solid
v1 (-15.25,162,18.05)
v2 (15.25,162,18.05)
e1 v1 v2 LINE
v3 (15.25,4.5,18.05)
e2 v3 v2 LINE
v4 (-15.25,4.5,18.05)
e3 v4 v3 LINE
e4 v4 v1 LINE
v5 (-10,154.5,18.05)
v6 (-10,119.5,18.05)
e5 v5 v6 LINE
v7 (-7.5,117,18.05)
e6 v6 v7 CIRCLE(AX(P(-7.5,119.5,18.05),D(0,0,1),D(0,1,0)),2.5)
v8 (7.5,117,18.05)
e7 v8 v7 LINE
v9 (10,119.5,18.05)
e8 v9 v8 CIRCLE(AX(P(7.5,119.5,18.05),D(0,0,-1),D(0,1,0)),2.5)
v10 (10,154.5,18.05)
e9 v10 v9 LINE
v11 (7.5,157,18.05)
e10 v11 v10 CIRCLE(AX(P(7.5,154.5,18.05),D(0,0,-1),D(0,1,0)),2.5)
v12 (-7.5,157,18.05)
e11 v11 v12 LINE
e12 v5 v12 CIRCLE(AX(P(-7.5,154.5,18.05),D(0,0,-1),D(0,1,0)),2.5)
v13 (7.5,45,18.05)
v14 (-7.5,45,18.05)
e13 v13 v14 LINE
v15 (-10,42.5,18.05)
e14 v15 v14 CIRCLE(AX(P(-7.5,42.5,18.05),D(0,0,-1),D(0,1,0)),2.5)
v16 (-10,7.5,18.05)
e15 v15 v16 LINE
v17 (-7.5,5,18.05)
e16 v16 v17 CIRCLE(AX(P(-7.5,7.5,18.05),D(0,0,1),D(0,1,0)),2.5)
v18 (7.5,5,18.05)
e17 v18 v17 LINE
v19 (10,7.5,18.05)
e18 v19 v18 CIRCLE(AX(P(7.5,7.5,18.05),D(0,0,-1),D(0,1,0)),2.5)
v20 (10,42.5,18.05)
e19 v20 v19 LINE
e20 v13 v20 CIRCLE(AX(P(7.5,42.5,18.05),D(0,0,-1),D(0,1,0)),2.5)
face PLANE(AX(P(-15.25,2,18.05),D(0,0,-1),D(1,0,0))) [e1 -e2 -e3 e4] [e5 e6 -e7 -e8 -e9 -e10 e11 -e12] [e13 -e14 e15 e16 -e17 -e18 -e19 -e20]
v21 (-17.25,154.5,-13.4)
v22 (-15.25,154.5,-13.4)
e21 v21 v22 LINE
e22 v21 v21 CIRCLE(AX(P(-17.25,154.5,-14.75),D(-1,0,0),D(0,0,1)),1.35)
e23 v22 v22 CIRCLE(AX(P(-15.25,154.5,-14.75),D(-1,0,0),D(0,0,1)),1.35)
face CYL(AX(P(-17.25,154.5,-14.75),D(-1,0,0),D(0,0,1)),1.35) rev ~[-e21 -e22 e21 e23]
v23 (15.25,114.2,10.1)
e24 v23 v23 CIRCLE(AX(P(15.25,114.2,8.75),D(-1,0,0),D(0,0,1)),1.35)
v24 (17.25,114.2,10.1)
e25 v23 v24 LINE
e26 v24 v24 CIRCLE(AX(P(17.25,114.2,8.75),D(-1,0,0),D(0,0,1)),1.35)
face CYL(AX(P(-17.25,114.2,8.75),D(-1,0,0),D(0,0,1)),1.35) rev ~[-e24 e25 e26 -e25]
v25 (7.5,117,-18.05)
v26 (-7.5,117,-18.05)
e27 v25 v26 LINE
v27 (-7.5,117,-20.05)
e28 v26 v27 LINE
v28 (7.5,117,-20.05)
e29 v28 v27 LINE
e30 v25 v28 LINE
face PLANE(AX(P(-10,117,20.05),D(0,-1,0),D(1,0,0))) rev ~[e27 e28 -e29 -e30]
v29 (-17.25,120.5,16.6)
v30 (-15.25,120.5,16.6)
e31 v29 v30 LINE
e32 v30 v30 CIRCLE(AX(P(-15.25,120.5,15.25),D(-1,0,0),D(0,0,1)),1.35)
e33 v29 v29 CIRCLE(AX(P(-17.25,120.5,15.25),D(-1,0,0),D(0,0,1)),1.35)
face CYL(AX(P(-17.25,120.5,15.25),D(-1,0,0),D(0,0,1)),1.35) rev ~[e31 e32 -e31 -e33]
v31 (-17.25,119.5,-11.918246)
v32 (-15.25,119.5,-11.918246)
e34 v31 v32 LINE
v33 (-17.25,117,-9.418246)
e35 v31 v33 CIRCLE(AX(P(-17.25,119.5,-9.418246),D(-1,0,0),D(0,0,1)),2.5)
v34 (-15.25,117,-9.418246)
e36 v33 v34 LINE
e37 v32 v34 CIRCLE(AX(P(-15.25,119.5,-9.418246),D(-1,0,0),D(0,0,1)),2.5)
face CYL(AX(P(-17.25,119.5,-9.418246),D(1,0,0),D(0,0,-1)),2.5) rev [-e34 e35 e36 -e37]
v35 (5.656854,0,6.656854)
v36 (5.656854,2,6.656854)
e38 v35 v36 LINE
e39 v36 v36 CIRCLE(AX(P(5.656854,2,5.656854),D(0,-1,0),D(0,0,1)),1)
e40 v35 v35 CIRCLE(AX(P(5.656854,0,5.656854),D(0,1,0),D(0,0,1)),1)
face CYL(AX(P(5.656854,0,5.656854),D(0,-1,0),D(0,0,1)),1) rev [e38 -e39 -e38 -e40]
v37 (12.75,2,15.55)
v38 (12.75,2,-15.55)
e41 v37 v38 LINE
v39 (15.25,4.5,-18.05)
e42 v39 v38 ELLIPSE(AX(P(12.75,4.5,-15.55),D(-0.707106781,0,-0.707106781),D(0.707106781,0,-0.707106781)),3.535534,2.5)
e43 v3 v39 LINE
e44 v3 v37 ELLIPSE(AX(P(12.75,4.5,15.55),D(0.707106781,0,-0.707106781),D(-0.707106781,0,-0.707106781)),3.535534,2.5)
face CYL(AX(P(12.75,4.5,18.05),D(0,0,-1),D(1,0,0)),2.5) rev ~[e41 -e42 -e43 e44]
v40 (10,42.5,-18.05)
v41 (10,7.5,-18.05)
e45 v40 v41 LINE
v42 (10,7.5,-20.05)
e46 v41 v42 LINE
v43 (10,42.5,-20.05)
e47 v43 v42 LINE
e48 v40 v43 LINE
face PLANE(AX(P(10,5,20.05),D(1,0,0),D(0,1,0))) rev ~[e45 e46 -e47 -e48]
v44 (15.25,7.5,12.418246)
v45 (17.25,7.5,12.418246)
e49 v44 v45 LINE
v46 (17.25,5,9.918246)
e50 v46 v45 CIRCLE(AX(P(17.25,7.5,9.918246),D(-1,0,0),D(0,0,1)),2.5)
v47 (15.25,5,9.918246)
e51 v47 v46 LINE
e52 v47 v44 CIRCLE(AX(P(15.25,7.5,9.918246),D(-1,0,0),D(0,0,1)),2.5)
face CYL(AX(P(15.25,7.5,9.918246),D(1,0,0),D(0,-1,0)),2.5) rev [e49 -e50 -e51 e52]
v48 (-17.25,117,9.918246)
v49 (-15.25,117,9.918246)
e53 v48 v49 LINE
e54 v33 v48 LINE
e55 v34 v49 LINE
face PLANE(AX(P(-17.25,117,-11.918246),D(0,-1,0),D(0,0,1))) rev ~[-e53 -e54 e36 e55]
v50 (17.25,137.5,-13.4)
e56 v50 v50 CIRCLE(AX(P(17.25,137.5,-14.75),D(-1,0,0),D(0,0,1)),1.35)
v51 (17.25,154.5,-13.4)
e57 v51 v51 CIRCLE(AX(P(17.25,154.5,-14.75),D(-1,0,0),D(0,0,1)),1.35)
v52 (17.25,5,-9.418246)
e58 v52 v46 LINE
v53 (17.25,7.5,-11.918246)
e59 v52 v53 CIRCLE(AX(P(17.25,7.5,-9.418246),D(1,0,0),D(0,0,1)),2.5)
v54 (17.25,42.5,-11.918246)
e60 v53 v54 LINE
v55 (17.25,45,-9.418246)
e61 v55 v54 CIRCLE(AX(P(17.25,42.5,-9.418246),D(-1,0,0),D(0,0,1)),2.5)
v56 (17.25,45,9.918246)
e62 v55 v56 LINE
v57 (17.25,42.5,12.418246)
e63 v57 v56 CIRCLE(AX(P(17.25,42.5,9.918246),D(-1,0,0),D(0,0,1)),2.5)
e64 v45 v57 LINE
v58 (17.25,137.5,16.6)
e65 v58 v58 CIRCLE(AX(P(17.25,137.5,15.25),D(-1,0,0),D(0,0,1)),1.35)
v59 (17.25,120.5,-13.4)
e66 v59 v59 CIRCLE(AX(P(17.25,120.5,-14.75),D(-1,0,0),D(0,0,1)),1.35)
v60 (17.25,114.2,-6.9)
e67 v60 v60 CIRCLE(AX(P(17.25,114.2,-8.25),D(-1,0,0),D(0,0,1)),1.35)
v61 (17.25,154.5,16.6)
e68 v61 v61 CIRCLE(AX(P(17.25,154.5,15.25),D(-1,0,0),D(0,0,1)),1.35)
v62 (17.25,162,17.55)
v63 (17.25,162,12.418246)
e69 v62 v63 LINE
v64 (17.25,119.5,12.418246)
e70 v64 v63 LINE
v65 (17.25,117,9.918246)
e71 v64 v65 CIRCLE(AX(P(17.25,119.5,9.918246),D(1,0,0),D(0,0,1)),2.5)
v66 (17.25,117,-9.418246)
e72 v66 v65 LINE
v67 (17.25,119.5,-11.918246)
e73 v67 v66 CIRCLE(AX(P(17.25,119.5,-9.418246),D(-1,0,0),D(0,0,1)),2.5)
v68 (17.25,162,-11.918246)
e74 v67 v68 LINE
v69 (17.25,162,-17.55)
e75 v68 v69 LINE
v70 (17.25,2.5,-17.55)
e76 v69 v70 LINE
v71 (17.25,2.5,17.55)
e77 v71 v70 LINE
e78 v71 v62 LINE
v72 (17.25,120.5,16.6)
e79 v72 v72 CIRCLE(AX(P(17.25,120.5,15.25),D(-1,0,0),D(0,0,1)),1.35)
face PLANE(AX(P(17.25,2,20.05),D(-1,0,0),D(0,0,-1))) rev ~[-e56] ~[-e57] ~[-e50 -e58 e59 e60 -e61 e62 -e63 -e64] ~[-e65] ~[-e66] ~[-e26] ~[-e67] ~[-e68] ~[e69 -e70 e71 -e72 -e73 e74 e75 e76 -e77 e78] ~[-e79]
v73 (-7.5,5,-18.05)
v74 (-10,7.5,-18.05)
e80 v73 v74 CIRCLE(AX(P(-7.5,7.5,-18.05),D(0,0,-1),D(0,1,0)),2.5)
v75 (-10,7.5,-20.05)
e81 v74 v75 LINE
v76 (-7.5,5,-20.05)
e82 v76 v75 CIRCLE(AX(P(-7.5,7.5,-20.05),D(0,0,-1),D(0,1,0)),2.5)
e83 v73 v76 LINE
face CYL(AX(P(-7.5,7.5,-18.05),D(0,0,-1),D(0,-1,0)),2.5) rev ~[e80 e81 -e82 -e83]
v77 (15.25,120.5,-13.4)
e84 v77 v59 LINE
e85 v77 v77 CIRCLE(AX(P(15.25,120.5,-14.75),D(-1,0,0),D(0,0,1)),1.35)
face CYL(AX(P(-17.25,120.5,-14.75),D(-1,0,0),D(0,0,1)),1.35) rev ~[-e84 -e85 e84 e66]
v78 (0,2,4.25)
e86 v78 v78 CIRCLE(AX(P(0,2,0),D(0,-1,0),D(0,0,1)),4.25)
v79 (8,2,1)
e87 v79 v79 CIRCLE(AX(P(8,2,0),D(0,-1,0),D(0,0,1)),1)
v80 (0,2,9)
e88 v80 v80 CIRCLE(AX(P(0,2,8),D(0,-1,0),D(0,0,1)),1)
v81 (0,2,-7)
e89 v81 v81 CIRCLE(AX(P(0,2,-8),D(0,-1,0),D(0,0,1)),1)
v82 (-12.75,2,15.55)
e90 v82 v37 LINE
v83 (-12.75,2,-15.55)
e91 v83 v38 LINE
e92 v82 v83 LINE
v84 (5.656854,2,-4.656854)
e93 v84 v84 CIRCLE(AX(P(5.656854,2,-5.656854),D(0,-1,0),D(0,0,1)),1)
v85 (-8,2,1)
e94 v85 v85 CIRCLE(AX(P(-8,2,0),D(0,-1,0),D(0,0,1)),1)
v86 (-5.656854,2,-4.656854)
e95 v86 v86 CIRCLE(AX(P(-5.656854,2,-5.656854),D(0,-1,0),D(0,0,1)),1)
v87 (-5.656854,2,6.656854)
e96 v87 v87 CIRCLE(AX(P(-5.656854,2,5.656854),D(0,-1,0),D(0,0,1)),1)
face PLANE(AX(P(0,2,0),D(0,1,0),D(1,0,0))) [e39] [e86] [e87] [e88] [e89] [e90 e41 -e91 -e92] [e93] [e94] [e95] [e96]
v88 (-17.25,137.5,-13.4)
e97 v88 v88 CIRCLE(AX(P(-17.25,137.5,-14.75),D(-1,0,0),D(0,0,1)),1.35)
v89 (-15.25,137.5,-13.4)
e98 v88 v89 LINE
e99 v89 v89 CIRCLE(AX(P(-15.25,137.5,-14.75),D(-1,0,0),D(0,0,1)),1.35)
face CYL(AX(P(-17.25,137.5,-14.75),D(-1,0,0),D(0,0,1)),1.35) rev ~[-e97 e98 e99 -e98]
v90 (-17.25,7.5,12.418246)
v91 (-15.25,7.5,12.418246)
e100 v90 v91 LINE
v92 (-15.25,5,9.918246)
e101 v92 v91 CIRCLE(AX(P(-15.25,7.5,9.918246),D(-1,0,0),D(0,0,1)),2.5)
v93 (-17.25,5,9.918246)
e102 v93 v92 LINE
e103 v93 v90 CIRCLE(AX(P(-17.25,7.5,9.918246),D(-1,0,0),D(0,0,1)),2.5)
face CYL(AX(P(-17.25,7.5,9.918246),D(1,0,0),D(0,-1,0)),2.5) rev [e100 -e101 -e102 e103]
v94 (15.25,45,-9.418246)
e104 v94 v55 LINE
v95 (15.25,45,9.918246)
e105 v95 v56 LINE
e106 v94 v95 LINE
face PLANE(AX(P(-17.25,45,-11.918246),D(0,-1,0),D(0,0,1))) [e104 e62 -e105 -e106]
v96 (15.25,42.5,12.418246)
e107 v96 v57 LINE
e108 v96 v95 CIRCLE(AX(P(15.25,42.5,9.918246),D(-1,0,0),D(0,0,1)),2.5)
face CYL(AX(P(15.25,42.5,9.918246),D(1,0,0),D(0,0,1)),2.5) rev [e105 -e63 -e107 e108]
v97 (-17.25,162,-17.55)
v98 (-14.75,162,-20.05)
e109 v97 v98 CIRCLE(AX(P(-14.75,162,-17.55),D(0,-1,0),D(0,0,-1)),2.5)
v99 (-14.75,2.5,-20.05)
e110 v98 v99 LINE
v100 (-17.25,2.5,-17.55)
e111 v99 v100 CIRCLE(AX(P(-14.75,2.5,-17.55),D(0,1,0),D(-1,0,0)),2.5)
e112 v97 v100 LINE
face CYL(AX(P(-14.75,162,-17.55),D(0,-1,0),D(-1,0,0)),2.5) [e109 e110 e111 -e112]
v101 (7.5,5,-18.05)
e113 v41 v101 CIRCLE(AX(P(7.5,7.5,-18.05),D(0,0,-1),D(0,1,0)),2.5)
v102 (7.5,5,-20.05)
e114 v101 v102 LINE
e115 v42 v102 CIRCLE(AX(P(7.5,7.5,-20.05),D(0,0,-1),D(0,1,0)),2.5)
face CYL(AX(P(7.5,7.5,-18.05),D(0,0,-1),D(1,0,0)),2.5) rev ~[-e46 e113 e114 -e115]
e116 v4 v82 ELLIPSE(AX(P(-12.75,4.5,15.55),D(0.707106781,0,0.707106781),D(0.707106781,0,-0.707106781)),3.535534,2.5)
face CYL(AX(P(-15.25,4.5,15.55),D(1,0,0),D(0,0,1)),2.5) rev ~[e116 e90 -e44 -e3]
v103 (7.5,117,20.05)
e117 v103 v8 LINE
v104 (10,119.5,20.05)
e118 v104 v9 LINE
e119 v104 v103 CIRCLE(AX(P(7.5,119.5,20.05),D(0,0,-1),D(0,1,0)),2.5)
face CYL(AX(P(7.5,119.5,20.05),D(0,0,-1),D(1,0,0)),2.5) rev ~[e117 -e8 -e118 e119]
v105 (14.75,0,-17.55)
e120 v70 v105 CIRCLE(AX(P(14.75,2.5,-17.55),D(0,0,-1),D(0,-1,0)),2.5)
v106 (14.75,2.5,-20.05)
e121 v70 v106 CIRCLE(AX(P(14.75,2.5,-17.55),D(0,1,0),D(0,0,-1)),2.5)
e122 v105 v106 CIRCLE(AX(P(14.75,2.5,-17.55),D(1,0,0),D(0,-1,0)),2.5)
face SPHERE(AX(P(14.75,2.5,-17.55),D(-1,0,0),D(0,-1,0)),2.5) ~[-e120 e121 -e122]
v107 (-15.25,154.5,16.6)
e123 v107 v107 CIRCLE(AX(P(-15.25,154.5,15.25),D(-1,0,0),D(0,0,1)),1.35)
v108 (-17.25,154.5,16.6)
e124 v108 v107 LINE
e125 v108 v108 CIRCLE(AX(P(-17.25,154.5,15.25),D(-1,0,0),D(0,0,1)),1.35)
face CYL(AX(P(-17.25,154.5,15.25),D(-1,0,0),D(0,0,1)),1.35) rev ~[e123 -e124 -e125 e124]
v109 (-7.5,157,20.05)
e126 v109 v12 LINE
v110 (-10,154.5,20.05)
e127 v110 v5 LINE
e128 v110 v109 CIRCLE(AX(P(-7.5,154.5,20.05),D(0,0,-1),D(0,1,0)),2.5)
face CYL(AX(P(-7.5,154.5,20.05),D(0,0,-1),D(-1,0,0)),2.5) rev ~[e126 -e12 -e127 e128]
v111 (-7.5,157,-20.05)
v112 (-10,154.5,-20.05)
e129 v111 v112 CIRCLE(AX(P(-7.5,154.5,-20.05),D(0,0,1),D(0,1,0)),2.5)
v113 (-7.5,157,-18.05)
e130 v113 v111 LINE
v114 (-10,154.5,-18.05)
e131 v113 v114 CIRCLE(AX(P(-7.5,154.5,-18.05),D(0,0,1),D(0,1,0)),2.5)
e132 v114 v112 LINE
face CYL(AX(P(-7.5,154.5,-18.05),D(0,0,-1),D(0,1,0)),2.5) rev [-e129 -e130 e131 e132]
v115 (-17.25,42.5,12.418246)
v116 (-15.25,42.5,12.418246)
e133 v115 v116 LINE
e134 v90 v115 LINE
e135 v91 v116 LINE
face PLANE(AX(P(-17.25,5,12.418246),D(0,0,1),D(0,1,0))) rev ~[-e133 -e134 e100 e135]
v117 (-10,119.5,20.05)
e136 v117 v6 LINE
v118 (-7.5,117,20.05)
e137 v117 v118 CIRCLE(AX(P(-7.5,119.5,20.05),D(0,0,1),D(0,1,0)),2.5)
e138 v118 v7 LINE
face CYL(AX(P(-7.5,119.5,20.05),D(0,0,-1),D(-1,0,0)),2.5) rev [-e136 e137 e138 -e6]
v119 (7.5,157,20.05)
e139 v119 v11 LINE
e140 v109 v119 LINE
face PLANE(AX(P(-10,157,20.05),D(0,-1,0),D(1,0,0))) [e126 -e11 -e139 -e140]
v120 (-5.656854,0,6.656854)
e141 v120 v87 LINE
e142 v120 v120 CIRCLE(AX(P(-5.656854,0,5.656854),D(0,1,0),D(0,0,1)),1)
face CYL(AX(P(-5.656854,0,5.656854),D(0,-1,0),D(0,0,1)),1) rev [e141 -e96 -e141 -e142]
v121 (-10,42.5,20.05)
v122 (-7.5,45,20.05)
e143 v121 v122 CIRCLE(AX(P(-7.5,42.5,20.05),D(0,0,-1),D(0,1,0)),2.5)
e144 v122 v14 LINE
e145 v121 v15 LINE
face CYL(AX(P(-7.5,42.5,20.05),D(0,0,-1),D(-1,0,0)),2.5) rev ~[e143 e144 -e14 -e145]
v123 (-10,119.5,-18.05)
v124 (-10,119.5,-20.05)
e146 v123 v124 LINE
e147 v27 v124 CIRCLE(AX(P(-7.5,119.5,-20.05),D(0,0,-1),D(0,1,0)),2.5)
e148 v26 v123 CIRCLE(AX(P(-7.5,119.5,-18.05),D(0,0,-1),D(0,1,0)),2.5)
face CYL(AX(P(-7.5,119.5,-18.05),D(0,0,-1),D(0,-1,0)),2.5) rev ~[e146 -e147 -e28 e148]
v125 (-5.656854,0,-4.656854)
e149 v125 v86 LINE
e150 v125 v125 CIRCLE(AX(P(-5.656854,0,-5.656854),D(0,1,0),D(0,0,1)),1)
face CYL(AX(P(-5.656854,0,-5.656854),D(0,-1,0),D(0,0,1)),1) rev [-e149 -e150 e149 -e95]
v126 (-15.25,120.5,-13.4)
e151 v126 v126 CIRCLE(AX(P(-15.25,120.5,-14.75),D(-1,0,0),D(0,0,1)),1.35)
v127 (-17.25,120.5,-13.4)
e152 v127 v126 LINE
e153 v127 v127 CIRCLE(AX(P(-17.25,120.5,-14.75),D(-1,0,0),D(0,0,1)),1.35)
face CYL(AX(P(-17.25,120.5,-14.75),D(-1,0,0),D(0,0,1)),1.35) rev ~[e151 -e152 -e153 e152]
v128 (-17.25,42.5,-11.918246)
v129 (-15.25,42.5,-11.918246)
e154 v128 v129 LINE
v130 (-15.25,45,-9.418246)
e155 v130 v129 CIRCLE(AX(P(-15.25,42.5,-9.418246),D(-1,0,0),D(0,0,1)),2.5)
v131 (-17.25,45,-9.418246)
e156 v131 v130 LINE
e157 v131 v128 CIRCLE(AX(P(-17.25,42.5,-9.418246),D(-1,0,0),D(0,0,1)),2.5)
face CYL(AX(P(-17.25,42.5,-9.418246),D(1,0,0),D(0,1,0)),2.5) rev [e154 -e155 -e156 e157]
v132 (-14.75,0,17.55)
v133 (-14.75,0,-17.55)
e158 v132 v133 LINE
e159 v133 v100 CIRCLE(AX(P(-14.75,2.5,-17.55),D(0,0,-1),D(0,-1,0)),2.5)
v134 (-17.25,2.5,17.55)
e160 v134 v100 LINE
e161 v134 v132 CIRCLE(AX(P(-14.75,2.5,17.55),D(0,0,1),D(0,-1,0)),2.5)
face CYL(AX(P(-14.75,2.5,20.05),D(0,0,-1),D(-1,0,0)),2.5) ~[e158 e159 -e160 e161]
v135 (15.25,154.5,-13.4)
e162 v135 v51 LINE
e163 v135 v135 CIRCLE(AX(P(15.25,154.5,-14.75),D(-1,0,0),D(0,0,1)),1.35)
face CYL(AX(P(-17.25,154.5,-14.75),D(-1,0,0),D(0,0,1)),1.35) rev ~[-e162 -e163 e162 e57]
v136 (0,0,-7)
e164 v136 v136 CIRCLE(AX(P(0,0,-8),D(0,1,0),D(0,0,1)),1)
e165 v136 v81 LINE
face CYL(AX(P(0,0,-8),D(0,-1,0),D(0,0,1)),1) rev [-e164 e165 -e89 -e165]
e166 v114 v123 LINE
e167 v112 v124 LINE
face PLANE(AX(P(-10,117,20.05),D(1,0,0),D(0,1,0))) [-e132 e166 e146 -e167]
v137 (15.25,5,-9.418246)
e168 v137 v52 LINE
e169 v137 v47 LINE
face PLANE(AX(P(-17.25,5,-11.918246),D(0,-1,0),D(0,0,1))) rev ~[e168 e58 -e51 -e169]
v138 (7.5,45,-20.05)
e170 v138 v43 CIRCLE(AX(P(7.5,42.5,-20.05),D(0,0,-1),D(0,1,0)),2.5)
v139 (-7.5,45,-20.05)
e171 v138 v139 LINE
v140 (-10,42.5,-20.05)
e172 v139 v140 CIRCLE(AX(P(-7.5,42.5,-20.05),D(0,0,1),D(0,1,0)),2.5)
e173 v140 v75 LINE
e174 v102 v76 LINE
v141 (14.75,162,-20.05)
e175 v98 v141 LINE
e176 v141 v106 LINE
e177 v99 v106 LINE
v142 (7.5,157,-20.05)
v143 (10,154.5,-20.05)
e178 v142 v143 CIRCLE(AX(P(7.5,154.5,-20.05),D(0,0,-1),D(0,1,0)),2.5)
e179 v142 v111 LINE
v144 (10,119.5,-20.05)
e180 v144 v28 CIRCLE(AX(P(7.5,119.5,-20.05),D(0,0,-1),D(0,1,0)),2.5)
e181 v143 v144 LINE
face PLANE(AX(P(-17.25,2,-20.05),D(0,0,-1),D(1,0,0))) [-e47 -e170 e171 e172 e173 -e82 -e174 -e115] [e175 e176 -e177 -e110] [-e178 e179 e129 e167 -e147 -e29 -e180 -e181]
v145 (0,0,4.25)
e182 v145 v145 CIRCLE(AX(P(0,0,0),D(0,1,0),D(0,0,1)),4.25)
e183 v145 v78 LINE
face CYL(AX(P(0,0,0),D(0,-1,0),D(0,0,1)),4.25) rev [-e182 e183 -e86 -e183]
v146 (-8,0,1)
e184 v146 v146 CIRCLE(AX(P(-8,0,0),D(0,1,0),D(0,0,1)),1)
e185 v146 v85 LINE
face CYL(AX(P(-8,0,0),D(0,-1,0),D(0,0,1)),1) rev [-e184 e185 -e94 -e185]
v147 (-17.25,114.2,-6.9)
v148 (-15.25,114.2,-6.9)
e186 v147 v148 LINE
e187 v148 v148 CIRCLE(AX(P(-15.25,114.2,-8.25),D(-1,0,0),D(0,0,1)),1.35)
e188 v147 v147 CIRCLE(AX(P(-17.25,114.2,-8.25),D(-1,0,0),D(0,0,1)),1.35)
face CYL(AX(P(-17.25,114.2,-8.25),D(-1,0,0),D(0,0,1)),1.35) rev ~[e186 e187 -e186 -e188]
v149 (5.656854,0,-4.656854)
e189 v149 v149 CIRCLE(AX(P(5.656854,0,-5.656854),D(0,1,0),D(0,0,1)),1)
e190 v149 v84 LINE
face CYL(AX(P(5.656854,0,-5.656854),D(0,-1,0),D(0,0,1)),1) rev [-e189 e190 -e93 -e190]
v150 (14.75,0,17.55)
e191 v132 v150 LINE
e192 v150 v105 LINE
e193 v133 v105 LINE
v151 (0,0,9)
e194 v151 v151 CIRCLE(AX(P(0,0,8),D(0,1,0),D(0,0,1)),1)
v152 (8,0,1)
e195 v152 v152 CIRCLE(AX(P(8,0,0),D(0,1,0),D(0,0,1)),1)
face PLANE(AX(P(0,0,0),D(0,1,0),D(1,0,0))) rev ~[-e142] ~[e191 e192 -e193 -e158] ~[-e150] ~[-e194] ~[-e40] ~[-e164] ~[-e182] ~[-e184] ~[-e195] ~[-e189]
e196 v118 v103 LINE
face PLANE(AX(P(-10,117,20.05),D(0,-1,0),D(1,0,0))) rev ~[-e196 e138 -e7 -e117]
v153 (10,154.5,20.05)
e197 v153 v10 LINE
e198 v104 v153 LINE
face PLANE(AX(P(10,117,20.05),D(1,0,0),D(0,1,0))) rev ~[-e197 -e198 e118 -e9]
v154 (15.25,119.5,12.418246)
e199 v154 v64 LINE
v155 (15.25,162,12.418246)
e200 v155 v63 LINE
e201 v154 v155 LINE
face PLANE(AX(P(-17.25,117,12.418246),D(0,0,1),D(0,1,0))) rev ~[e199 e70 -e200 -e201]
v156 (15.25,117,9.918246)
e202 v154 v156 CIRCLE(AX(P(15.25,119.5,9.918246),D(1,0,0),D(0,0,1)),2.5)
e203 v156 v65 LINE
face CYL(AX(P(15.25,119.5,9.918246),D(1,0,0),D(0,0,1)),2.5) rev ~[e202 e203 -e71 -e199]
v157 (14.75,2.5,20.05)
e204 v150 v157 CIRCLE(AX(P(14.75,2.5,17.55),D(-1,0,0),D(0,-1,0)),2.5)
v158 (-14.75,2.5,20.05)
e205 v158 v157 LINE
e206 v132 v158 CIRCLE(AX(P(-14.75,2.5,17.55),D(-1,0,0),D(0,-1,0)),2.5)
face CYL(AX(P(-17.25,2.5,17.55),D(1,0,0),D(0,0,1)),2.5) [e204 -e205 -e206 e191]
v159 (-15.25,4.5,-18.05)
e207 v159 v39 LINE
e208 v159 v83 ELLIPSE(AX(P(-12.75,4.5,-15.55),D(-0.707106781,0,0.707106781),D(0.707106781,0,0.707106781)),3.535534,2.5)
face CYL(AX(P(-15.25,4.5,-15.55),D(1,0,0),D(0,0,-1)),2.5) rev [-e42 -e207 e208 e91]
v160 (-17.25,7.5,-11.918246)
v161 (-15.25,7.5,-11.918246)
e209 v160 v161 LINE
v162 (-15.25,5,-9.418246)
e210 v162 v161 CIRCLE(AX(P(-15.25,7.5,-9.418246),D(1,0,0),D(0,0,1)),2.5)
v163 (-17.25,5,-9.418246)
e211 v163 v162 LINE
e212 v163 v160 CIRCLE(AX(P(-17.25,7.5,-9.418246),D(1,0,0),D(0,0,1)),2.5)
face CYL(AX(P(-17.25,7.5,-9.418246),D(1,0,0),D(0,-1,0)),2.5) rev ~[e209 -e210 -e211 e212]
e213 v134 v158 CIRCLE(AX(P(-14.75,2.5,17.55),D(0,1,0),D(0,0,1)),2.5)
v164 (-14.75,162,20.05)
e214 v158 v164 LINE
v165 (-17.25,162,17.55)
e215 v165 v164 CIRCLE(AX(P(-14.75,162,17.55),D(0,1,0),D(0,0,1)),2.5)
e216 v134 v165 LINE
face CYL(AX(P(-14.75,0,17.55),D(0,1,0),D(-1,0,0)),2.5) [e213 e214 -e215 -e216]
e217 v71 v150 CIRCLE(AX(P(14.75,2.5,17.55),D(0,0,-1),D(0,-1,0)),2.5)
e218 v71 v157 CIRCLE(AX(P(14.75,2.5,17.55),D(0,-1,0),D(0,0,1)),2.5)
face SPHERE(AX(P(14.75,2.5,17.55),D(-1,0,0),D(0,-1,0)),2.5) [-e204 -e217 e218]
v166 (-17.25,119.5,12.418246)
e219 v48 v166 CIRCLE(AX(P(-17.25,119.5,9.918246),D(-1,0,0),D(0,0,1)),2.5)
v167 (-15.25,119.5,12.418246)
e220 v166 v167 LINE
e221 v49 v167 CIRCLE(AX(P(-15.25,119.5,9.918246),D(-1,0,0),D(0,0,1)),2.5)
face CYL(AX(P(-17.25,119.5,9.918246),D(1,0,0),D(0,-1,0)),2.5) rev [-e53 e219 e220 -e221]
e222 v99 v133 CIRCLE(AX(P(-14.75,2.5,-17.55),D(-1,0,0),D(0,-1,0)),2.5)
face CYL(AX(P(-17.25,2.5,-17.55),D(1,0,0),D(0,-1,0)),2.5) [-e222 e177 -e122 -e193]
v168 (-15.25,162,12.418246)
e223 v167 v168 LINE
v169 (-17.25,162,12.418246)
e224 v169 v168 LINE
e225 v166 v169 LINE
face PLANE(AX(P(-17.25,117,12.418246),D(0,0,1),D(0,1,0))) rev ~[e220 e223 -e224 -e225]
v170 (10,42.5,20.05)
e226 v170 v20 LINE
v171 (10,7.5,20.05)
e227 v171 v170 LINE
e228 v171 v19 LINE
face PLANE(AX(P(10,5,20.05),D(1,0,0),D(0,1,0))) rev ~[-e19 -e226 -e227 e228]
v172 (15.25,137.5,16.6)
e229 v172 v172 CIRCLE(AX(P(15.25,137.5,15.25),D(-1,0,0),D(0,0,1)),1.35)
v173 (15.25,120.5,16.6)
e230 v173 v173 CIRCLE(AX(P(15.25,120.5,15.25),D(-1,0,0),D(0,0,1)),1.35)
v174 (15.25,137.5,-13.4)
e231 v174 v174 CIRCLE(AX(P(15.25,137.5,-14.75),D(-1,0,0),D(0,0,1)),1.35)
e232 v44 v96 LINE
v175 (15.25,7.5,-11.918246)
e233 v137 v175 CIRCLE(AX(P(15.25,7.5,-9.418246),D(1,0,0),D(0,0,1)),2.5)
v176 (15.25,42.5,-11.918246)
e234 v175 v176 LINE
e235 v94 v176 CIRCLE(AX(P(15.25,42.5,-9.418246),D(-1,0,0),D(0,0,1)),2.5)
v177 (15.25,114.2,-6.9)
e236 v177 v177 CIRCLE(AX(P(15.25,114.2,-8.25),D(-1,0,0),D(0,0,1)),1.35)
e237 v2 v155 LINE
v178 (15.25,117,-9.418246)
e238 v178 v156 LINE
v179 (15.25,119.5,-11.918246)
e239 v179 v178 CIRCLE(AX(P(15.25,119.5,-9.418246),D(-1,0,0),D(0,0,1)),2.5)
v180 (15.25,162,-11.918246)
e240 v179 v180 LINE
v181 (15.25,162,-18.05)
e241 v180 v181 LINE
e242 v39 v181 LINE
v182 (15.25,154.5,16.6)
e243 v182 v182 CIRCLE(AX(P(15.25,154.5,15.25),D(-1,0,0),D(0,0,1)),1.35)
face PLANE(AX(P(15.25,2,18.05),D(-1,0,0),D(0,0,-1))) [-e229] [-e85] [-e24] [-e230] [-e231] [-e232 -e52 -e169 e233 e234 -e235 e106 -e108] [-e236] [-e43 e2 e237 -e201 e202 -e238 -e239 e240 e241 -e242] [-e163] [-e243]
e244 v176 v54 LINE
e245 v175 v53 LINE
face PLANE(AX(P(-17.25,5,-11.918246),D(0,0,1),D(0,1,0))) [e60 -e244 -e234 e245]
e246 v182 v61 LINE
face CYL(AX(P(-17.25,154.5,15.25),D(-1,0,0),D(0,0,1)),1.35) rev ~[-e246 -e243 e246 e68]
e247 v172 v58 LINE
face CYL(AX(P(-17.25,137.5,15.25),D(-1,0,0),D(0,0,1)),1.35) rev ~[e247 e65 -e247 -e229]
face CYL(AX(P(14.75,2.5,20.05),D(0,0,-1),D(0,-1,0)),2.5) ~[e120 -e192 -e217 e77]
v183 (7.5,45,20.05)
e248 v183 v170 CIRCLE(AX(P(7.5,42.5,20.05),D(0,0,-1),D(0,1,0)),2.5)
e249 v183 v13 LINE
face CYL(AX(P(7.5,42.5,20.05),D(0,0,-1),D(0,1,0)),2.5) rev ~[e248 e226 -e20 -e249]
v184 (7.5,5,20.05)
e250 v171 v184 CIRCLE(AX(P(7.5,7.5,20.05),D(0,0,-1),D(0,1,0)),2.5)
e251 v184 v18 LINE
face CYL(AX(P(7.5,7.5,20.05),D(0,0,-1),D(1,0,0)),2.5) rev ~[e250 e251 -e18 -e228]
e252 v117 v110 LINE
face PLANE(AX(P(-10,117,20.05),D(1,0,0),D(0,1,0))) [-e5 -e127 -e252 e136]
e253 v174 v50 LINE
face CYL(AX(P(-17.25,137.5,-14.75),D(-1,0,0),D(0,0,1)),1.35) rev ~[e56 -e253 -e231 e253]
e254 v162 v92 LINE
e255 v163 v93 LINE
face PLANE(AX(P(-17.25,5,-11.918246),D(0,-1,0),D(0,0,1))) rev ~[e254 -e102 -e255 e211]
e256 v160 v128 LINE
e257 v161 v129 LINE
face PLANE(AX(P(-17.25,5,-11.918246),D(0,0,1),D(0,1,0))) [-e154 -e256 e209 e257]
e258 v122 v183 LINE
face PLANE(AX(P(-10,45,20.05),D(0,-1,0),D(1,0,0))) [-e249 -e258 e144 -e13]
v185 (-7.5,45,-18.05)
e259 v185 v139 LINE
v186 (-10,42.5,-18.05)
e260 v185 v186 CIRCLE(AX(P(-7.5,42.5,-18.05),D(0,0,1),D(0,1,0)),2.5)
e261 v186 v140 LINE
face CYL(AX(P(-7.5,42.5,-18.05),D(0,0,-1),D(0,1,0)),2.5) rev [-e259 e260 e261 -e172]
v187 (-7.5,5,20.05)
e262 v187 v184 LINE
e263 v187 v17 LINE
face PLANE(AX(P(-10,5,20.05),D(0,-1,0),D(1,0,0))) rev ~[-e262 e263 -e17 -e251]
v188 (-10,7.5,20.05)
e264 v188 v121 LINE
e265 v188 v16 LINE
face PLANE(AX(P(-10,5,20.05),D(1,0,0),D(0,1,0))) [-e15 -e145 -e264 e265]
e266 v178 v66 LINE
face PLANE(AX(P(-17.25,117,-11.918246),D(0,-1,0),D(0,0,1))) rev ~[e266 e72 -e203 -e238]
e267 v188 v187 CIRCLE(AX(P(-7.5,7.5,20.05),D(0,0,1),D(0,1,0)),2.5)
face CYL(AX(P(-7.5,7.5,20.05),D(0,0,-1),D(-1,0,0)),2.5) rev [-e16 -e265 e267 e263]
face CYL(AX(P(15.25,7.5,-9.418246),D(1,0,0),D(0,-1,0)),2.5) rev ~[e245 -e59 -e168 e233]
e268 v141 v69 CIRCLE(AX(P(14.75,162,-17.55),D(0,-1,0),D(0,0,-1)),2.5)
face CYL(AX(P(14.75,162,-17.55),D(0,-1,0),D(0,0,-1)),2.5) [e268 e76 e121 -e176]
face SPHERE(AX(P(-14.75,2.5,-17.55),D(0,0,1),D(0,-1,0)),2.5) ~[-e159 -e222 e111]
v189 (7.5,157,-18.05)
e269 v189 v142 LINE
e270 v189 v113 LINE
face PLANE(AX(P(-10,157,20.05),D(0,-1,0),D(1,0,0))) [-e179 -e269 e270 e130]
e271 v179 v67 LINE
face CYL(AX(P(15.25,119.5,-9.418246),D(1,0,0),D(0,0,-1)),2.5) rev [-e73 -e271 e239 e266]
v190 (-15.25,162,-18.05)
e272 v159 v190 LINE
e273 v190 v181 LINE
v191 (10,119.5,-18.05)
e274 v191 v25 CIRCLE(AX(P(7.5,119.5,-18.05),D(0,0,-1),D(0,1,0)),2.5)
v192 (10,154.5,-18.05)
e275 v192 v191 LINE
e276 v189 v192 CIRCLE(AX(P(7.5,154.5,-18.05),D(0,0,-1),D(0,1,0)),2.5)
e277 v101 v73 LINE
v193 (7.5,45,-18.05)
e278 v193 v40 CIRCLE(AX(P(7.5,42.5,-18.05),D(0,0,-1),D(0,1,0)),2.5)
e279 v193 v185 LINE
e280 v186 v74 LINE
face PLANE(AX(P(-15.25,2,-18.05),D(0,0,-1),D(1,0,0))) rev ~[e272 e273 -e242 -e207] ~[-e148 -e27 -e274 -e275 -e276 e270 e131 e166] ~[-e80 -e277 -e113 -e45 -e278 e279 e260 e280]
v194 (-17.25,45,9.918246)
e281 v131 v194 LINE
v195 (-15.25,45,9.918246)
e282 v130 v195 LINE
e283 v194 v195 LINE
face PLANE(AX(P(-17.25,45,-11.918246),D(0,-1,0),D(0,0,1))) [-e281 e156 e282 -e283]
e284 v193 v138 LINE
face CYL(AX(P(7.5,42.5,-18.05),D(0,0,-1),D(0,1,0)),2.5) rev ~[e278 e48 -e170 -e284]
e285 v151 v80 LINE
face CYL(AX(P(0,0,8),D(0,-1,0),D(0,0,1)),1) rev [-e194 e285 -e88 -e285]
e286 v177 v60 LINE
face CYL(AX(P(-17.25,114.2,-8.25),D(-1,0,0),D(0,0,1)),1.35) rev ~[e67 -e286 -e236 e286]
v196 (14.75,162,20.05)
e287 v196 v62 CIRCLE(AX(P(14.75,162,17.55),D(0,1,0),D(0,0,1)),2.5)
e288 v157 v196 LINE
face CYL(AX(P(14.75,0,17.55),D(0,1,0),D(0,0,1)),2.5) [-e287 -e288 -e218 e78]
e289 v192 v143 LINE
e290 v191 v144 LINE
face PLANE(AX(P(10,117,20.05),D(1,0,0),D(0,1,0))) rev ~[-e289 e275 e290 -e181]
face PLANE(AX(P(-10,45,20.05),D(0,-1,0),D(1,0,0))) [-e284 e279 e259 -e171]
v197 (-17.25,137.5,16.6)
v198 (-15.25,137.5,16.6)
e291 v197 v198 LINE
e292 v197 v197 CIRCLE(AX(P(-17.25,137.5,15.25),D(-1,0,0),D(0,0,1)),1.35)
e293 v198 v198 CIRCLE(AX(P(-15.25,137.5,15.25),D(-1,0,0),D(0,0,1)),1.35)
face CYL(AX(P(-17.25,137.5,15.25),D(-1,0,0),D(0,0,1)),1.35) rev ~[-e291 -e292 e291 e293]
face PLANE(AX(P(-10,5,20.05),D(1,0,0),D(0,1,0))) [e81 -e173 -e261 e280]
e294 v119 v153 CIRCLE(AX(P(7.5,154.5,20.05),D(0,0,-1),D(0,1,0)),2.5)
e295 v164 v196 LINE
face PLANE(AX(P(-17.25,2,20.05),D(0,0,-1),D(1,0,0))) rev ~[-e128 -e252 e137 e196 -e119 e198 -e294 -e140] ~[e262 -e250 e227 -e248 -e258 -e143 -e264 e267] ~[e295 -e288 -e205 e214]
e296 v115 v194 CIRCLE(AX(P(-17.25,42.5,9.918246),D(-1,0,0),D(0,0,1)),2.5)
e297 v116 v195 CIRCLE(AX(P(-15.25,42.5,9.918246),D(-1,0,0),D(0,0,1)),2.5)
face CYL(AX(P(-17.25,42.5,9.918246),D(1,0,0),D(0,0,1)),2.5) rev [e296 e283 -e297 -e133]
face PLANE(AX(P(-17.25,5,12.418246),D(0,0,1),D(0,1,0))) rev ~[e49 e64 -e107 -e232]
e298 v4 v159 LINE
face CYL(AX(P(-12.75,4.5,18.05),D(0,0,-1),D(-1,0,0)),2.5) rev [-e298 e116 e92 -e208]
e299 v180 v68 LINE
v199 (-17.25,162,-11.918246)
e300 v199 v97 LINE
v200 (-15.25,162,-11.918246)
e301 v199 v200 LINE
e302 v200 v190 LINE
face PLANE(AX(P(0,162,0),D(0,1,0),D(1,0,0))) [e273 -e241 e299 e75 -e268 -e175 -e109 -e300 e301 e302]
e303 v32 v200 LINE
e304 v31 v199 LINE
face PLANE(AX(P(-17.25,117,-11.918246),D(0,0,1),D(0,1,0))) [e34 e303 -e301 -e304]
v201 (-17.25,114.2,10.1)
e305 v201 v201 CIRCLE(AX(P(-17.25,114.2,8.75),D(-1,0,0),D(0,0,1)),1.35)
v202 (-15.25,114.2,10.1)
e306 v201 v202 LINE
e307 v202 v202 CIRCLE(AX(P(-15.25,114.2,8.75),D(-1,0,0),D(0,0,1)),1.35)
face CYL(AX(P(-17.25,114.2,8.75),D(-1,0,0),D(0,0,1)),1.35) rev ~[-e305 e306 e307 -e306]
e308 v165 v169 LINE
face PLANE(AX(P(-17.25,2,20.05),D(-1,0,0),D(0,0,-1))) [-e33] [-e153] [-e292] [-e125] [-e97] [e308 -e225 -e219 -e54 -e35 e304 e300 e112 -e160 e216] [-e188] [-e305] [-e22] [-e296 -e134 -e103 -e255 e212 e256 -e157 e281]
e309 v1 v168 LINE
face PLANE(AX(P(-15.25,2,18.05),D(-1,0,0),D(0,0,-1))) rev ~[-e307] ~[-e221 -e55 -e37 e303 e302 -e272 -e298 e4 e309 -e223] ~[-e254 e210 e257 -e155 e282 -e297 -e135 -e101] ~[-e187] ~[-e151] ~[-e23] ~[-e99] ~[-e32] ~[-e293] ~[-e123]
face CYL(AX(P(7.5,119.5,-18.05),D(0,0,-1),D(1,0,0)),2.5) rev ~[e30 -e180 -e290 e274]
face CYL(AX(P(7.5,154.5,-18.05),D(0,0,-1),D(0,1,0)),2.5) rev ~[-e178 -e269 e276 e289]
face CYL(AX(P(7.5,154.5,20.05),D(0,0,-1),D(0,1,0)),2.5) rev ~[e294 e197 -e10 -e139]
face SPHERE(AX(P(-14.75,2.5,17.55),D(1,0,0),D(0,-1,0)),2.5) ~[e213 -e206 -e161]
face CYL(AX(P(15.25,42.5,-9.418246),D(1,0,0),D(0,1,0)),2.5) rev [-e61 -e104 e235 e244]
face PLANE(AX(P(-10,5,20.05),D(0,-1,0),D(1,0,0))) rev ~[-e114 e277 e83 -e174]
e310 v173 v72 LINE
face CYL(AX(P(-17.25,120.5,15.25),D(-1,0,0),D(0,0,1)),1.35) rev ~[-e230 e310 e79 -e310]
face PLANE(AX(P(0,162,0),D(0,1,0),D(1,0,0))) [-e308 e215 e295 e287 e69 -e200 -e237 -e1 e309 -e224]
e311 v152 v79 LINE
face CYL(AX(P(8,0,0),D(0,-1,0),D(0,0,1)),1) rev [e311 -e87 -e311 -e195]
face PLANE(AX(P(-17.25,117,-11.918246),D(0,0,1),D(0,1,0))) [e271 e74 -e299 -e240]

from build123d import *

# Parameters (mm, degrees)
SKETCH2_W           = 34.5
SKETCH2_H           = 40.1
BOSS_EXTRUDE1_DEPTH = 2
SKETCH1_R           = 1
SKETCH1_R_2         = 4.25
CUT_EXTRUDE2_DEPTH  = 27.524799716
SKETCH3_W           = 34.5
SKETCH3_H           = 40.1
SKETCH3_W_2         = 30.5
SKETCH3_H_2         = 36.1
BOSS_EXTRUDE3_DEPTH = 160
SKETCH4_W           = 24.336491673
SKETCH4_H           = 45
SKETCH4_H_2         = 40
CUT_EXTRUDE3_DEPTH  = 167.841998609
SKETCH5_W           = 20
SKETCH5_H           = 40
CUT_EXTRUDE4_DEPTH  = 168.778343358
FILLET1_R           = 2.5
SKETCH7_R           = 1.350000001
CUT_EXTRUDE5_DEPTH  = 167.841998609


with BuildPart() as part:
    # Sketch2 → Boss-Extrude1 (new body)
    with BuildSketch(Plane(origin=(0, 0, 0), x_dir=(1, 0, 0), z_dir=(0, 1, 0))):
        Rectangle(SKETCH2_W, SKETCH2_H)
    extrude(amount=BOSS_EXTRUDE1_DEPTH)

    # Sketch1 → Cut-Extrude2 (cut, through all)
    with BuildSketch(Plane(origin=(0, 0, 0), x_dir=(1, 0, 0), z_dir=(0, 1, 0))):
        with Locations(Location((0, 8, 0), (0, 0, 270))):
            Circle(SKETCH1_R)
        with Locations(Location((5.656854249, 5.656854249, 0), (0, 0, 270))):
            Circle(SKETCH1_R)
        with Locations(Location((8, 0, 0), (0, 0, 270))):
            Circle(SKETCH1_R)
        with Locations(Location((5.656854249, -5.656854249, 0), (0, 0, 270))):
            Circle(SKETCH1_R)
        with Locations(Location((0, -8, 0), (0, 0, 270))):
            Circle(SKETCH1_R)
        with Locations(Location((-5.656854249, -5.656854249, 0), (0, 0, 270))):
            Circle(SKETCH1_R)
        with Locations(Location((-8, 0, 0), (0, 0, 270))):
            Circle(SKETCH1_R)
        with Locations(Location((-5.656854249, 5.656854249, 0), (0, 0, 270))):
            Circle(SKETCH1_R)
        with Locations(Location((0, 0, 0), (0, 0, 270))):
            Circle(SKETCH1_R_2)
    extrude(amount=CUT_EXTRUDE2_DEPTH, mode=Mode.SUBTRACT)

    # Sketch3 → Boss-Extrude3 (add)
    with BuildSketch(Plane(origin=(0, 2, 0), x_dir=(1, 0, 0), z_dir=(0, 1, 0))):
        Rectangle(SKETCH3_W, SKETCH3_H)
        Rectangle(SKETCH3_W_2, SKETCH3_H_2, mode=Mode.SUBTRACT)
    extrude(amount=BOSS_EXTRUDE3_DEPTH)

    # Sketch4 → Cut-Extrude3 (cut, through all)
    with BuildSketch(Plane.ZY.offset(17.25)):
        with Locations((0.249999999, 139.5)):
            Rectangle(SKETCH4_W, SKETCH4_H)
        with Locations((0.249999999, 25)):
            Rectangle(SKETCH4_W, SKETCH4_H_2)
    extrude(amount=-CUT_EXTRUDE3_DEPTH, mode=Mode.SUBTRACT)

    # Sketch5 → Cut-Extrude4 (cut, through all)
    with BuildSketch(Plane.XY.offset(20.05)):
        with Locations((0, 25)):
            Rectangle(SKETCH5_W, SKETCH5_H)
        with Locations((0, 137)):
            Rectangle(SKETCH5_W, SKETCH5_H)
    extrude(amount=-CUT_EXTRUDE4_DEPTH, mode=Mode.SUBTRACT)

    # Fillet1
    fillet1_edges = [part.edges().sort_by_distance(p)[0] for p in [
        (16.25, 5, -11.918245837),
        (16.25, 45, -11.918245837),
        (16.25, 45, 12.418245836),
        (16.25, 5, 12.418245836),
        (-16.25, 5, -11.918245837),
        (-16.25, 45, -11.918245837),
        (-16.25, 45, 12.418245836),
        (-16.25, 5, 12.418245836),
        (10, 45, -19.05),
        (10, 5, -19.05),
        (-10, 5, -19.05),
        (-10, 45, -19.05),
        (10, 45, 19.05),
        (10, 5, 19.05),
        (-10, 5, 19.05),
        (-10, 45, 19.05),
        (10, 157, -19.05),
        (10, 117, -19.05),
        (-10, 117, -19.05),
        (-10, 157, -19.05),
        (10, 157, 19.05),
        (10, 117, 19.05),
        (-10, 117, 19.05),
        (-10, 157, 19.05),
        (0, 0, 20.05),
        (-17.25, 0, 0),
        (0, 0, -20.05),
        (15.25, 2, 0),
        (0, 2, -18.05),
        (-15.25, 2, 0),
        (0, 2, 18.05),
        (17.25, 0, 0),
        (17.25, 81, 20.05),
        (-17.25, 81, 20.05),
        (-17.25, 81, -20.05),
        (17.25, 81, -20.05),
        (16.25, 117, 12.418245836),
        (16.25, 117, -11.918245837),
        (-16.25, 117, 12.418245836),
        (-16.25, 117, -11.918245837),
    ]]
    fillet(fillet1_edges, radius=FILLET1_R)

    # Sketch7 → Cut-Extrude5 (cut, through all)
    with BuildSketch(Plane.ZY.offset(17.25)):
        with Locations((-14.750000001, 154.5)):
            Circle(SKETCH7_R)
        with Locations((-14.750000001, 137.5)):
            Circle(SKETCH7_R)
        with Locations((-14.750000001, 120.5)):
            Circle(SKETCH7_R)
        with Locations((15.249999999, 154.5)):
            Circle(SKETCH7_R)
        with Locations((15.249999999, 137.5)):
            Circle(SKETCH7_R)
        with Locations((15.249999999, 120.5)):
            Circle(SKETCH7_R)
        with Locations((-8.250000001, 114.2)):
            Circle(SKETCH7_R)
        with Locations((8.749999999, 114.2)):
            Circle(SKETCH7_R)
    extrude(amount=-CUT_EXTRUDE5_DEPTH, mode=Mode.SUBTRACT)


solid = part.part
